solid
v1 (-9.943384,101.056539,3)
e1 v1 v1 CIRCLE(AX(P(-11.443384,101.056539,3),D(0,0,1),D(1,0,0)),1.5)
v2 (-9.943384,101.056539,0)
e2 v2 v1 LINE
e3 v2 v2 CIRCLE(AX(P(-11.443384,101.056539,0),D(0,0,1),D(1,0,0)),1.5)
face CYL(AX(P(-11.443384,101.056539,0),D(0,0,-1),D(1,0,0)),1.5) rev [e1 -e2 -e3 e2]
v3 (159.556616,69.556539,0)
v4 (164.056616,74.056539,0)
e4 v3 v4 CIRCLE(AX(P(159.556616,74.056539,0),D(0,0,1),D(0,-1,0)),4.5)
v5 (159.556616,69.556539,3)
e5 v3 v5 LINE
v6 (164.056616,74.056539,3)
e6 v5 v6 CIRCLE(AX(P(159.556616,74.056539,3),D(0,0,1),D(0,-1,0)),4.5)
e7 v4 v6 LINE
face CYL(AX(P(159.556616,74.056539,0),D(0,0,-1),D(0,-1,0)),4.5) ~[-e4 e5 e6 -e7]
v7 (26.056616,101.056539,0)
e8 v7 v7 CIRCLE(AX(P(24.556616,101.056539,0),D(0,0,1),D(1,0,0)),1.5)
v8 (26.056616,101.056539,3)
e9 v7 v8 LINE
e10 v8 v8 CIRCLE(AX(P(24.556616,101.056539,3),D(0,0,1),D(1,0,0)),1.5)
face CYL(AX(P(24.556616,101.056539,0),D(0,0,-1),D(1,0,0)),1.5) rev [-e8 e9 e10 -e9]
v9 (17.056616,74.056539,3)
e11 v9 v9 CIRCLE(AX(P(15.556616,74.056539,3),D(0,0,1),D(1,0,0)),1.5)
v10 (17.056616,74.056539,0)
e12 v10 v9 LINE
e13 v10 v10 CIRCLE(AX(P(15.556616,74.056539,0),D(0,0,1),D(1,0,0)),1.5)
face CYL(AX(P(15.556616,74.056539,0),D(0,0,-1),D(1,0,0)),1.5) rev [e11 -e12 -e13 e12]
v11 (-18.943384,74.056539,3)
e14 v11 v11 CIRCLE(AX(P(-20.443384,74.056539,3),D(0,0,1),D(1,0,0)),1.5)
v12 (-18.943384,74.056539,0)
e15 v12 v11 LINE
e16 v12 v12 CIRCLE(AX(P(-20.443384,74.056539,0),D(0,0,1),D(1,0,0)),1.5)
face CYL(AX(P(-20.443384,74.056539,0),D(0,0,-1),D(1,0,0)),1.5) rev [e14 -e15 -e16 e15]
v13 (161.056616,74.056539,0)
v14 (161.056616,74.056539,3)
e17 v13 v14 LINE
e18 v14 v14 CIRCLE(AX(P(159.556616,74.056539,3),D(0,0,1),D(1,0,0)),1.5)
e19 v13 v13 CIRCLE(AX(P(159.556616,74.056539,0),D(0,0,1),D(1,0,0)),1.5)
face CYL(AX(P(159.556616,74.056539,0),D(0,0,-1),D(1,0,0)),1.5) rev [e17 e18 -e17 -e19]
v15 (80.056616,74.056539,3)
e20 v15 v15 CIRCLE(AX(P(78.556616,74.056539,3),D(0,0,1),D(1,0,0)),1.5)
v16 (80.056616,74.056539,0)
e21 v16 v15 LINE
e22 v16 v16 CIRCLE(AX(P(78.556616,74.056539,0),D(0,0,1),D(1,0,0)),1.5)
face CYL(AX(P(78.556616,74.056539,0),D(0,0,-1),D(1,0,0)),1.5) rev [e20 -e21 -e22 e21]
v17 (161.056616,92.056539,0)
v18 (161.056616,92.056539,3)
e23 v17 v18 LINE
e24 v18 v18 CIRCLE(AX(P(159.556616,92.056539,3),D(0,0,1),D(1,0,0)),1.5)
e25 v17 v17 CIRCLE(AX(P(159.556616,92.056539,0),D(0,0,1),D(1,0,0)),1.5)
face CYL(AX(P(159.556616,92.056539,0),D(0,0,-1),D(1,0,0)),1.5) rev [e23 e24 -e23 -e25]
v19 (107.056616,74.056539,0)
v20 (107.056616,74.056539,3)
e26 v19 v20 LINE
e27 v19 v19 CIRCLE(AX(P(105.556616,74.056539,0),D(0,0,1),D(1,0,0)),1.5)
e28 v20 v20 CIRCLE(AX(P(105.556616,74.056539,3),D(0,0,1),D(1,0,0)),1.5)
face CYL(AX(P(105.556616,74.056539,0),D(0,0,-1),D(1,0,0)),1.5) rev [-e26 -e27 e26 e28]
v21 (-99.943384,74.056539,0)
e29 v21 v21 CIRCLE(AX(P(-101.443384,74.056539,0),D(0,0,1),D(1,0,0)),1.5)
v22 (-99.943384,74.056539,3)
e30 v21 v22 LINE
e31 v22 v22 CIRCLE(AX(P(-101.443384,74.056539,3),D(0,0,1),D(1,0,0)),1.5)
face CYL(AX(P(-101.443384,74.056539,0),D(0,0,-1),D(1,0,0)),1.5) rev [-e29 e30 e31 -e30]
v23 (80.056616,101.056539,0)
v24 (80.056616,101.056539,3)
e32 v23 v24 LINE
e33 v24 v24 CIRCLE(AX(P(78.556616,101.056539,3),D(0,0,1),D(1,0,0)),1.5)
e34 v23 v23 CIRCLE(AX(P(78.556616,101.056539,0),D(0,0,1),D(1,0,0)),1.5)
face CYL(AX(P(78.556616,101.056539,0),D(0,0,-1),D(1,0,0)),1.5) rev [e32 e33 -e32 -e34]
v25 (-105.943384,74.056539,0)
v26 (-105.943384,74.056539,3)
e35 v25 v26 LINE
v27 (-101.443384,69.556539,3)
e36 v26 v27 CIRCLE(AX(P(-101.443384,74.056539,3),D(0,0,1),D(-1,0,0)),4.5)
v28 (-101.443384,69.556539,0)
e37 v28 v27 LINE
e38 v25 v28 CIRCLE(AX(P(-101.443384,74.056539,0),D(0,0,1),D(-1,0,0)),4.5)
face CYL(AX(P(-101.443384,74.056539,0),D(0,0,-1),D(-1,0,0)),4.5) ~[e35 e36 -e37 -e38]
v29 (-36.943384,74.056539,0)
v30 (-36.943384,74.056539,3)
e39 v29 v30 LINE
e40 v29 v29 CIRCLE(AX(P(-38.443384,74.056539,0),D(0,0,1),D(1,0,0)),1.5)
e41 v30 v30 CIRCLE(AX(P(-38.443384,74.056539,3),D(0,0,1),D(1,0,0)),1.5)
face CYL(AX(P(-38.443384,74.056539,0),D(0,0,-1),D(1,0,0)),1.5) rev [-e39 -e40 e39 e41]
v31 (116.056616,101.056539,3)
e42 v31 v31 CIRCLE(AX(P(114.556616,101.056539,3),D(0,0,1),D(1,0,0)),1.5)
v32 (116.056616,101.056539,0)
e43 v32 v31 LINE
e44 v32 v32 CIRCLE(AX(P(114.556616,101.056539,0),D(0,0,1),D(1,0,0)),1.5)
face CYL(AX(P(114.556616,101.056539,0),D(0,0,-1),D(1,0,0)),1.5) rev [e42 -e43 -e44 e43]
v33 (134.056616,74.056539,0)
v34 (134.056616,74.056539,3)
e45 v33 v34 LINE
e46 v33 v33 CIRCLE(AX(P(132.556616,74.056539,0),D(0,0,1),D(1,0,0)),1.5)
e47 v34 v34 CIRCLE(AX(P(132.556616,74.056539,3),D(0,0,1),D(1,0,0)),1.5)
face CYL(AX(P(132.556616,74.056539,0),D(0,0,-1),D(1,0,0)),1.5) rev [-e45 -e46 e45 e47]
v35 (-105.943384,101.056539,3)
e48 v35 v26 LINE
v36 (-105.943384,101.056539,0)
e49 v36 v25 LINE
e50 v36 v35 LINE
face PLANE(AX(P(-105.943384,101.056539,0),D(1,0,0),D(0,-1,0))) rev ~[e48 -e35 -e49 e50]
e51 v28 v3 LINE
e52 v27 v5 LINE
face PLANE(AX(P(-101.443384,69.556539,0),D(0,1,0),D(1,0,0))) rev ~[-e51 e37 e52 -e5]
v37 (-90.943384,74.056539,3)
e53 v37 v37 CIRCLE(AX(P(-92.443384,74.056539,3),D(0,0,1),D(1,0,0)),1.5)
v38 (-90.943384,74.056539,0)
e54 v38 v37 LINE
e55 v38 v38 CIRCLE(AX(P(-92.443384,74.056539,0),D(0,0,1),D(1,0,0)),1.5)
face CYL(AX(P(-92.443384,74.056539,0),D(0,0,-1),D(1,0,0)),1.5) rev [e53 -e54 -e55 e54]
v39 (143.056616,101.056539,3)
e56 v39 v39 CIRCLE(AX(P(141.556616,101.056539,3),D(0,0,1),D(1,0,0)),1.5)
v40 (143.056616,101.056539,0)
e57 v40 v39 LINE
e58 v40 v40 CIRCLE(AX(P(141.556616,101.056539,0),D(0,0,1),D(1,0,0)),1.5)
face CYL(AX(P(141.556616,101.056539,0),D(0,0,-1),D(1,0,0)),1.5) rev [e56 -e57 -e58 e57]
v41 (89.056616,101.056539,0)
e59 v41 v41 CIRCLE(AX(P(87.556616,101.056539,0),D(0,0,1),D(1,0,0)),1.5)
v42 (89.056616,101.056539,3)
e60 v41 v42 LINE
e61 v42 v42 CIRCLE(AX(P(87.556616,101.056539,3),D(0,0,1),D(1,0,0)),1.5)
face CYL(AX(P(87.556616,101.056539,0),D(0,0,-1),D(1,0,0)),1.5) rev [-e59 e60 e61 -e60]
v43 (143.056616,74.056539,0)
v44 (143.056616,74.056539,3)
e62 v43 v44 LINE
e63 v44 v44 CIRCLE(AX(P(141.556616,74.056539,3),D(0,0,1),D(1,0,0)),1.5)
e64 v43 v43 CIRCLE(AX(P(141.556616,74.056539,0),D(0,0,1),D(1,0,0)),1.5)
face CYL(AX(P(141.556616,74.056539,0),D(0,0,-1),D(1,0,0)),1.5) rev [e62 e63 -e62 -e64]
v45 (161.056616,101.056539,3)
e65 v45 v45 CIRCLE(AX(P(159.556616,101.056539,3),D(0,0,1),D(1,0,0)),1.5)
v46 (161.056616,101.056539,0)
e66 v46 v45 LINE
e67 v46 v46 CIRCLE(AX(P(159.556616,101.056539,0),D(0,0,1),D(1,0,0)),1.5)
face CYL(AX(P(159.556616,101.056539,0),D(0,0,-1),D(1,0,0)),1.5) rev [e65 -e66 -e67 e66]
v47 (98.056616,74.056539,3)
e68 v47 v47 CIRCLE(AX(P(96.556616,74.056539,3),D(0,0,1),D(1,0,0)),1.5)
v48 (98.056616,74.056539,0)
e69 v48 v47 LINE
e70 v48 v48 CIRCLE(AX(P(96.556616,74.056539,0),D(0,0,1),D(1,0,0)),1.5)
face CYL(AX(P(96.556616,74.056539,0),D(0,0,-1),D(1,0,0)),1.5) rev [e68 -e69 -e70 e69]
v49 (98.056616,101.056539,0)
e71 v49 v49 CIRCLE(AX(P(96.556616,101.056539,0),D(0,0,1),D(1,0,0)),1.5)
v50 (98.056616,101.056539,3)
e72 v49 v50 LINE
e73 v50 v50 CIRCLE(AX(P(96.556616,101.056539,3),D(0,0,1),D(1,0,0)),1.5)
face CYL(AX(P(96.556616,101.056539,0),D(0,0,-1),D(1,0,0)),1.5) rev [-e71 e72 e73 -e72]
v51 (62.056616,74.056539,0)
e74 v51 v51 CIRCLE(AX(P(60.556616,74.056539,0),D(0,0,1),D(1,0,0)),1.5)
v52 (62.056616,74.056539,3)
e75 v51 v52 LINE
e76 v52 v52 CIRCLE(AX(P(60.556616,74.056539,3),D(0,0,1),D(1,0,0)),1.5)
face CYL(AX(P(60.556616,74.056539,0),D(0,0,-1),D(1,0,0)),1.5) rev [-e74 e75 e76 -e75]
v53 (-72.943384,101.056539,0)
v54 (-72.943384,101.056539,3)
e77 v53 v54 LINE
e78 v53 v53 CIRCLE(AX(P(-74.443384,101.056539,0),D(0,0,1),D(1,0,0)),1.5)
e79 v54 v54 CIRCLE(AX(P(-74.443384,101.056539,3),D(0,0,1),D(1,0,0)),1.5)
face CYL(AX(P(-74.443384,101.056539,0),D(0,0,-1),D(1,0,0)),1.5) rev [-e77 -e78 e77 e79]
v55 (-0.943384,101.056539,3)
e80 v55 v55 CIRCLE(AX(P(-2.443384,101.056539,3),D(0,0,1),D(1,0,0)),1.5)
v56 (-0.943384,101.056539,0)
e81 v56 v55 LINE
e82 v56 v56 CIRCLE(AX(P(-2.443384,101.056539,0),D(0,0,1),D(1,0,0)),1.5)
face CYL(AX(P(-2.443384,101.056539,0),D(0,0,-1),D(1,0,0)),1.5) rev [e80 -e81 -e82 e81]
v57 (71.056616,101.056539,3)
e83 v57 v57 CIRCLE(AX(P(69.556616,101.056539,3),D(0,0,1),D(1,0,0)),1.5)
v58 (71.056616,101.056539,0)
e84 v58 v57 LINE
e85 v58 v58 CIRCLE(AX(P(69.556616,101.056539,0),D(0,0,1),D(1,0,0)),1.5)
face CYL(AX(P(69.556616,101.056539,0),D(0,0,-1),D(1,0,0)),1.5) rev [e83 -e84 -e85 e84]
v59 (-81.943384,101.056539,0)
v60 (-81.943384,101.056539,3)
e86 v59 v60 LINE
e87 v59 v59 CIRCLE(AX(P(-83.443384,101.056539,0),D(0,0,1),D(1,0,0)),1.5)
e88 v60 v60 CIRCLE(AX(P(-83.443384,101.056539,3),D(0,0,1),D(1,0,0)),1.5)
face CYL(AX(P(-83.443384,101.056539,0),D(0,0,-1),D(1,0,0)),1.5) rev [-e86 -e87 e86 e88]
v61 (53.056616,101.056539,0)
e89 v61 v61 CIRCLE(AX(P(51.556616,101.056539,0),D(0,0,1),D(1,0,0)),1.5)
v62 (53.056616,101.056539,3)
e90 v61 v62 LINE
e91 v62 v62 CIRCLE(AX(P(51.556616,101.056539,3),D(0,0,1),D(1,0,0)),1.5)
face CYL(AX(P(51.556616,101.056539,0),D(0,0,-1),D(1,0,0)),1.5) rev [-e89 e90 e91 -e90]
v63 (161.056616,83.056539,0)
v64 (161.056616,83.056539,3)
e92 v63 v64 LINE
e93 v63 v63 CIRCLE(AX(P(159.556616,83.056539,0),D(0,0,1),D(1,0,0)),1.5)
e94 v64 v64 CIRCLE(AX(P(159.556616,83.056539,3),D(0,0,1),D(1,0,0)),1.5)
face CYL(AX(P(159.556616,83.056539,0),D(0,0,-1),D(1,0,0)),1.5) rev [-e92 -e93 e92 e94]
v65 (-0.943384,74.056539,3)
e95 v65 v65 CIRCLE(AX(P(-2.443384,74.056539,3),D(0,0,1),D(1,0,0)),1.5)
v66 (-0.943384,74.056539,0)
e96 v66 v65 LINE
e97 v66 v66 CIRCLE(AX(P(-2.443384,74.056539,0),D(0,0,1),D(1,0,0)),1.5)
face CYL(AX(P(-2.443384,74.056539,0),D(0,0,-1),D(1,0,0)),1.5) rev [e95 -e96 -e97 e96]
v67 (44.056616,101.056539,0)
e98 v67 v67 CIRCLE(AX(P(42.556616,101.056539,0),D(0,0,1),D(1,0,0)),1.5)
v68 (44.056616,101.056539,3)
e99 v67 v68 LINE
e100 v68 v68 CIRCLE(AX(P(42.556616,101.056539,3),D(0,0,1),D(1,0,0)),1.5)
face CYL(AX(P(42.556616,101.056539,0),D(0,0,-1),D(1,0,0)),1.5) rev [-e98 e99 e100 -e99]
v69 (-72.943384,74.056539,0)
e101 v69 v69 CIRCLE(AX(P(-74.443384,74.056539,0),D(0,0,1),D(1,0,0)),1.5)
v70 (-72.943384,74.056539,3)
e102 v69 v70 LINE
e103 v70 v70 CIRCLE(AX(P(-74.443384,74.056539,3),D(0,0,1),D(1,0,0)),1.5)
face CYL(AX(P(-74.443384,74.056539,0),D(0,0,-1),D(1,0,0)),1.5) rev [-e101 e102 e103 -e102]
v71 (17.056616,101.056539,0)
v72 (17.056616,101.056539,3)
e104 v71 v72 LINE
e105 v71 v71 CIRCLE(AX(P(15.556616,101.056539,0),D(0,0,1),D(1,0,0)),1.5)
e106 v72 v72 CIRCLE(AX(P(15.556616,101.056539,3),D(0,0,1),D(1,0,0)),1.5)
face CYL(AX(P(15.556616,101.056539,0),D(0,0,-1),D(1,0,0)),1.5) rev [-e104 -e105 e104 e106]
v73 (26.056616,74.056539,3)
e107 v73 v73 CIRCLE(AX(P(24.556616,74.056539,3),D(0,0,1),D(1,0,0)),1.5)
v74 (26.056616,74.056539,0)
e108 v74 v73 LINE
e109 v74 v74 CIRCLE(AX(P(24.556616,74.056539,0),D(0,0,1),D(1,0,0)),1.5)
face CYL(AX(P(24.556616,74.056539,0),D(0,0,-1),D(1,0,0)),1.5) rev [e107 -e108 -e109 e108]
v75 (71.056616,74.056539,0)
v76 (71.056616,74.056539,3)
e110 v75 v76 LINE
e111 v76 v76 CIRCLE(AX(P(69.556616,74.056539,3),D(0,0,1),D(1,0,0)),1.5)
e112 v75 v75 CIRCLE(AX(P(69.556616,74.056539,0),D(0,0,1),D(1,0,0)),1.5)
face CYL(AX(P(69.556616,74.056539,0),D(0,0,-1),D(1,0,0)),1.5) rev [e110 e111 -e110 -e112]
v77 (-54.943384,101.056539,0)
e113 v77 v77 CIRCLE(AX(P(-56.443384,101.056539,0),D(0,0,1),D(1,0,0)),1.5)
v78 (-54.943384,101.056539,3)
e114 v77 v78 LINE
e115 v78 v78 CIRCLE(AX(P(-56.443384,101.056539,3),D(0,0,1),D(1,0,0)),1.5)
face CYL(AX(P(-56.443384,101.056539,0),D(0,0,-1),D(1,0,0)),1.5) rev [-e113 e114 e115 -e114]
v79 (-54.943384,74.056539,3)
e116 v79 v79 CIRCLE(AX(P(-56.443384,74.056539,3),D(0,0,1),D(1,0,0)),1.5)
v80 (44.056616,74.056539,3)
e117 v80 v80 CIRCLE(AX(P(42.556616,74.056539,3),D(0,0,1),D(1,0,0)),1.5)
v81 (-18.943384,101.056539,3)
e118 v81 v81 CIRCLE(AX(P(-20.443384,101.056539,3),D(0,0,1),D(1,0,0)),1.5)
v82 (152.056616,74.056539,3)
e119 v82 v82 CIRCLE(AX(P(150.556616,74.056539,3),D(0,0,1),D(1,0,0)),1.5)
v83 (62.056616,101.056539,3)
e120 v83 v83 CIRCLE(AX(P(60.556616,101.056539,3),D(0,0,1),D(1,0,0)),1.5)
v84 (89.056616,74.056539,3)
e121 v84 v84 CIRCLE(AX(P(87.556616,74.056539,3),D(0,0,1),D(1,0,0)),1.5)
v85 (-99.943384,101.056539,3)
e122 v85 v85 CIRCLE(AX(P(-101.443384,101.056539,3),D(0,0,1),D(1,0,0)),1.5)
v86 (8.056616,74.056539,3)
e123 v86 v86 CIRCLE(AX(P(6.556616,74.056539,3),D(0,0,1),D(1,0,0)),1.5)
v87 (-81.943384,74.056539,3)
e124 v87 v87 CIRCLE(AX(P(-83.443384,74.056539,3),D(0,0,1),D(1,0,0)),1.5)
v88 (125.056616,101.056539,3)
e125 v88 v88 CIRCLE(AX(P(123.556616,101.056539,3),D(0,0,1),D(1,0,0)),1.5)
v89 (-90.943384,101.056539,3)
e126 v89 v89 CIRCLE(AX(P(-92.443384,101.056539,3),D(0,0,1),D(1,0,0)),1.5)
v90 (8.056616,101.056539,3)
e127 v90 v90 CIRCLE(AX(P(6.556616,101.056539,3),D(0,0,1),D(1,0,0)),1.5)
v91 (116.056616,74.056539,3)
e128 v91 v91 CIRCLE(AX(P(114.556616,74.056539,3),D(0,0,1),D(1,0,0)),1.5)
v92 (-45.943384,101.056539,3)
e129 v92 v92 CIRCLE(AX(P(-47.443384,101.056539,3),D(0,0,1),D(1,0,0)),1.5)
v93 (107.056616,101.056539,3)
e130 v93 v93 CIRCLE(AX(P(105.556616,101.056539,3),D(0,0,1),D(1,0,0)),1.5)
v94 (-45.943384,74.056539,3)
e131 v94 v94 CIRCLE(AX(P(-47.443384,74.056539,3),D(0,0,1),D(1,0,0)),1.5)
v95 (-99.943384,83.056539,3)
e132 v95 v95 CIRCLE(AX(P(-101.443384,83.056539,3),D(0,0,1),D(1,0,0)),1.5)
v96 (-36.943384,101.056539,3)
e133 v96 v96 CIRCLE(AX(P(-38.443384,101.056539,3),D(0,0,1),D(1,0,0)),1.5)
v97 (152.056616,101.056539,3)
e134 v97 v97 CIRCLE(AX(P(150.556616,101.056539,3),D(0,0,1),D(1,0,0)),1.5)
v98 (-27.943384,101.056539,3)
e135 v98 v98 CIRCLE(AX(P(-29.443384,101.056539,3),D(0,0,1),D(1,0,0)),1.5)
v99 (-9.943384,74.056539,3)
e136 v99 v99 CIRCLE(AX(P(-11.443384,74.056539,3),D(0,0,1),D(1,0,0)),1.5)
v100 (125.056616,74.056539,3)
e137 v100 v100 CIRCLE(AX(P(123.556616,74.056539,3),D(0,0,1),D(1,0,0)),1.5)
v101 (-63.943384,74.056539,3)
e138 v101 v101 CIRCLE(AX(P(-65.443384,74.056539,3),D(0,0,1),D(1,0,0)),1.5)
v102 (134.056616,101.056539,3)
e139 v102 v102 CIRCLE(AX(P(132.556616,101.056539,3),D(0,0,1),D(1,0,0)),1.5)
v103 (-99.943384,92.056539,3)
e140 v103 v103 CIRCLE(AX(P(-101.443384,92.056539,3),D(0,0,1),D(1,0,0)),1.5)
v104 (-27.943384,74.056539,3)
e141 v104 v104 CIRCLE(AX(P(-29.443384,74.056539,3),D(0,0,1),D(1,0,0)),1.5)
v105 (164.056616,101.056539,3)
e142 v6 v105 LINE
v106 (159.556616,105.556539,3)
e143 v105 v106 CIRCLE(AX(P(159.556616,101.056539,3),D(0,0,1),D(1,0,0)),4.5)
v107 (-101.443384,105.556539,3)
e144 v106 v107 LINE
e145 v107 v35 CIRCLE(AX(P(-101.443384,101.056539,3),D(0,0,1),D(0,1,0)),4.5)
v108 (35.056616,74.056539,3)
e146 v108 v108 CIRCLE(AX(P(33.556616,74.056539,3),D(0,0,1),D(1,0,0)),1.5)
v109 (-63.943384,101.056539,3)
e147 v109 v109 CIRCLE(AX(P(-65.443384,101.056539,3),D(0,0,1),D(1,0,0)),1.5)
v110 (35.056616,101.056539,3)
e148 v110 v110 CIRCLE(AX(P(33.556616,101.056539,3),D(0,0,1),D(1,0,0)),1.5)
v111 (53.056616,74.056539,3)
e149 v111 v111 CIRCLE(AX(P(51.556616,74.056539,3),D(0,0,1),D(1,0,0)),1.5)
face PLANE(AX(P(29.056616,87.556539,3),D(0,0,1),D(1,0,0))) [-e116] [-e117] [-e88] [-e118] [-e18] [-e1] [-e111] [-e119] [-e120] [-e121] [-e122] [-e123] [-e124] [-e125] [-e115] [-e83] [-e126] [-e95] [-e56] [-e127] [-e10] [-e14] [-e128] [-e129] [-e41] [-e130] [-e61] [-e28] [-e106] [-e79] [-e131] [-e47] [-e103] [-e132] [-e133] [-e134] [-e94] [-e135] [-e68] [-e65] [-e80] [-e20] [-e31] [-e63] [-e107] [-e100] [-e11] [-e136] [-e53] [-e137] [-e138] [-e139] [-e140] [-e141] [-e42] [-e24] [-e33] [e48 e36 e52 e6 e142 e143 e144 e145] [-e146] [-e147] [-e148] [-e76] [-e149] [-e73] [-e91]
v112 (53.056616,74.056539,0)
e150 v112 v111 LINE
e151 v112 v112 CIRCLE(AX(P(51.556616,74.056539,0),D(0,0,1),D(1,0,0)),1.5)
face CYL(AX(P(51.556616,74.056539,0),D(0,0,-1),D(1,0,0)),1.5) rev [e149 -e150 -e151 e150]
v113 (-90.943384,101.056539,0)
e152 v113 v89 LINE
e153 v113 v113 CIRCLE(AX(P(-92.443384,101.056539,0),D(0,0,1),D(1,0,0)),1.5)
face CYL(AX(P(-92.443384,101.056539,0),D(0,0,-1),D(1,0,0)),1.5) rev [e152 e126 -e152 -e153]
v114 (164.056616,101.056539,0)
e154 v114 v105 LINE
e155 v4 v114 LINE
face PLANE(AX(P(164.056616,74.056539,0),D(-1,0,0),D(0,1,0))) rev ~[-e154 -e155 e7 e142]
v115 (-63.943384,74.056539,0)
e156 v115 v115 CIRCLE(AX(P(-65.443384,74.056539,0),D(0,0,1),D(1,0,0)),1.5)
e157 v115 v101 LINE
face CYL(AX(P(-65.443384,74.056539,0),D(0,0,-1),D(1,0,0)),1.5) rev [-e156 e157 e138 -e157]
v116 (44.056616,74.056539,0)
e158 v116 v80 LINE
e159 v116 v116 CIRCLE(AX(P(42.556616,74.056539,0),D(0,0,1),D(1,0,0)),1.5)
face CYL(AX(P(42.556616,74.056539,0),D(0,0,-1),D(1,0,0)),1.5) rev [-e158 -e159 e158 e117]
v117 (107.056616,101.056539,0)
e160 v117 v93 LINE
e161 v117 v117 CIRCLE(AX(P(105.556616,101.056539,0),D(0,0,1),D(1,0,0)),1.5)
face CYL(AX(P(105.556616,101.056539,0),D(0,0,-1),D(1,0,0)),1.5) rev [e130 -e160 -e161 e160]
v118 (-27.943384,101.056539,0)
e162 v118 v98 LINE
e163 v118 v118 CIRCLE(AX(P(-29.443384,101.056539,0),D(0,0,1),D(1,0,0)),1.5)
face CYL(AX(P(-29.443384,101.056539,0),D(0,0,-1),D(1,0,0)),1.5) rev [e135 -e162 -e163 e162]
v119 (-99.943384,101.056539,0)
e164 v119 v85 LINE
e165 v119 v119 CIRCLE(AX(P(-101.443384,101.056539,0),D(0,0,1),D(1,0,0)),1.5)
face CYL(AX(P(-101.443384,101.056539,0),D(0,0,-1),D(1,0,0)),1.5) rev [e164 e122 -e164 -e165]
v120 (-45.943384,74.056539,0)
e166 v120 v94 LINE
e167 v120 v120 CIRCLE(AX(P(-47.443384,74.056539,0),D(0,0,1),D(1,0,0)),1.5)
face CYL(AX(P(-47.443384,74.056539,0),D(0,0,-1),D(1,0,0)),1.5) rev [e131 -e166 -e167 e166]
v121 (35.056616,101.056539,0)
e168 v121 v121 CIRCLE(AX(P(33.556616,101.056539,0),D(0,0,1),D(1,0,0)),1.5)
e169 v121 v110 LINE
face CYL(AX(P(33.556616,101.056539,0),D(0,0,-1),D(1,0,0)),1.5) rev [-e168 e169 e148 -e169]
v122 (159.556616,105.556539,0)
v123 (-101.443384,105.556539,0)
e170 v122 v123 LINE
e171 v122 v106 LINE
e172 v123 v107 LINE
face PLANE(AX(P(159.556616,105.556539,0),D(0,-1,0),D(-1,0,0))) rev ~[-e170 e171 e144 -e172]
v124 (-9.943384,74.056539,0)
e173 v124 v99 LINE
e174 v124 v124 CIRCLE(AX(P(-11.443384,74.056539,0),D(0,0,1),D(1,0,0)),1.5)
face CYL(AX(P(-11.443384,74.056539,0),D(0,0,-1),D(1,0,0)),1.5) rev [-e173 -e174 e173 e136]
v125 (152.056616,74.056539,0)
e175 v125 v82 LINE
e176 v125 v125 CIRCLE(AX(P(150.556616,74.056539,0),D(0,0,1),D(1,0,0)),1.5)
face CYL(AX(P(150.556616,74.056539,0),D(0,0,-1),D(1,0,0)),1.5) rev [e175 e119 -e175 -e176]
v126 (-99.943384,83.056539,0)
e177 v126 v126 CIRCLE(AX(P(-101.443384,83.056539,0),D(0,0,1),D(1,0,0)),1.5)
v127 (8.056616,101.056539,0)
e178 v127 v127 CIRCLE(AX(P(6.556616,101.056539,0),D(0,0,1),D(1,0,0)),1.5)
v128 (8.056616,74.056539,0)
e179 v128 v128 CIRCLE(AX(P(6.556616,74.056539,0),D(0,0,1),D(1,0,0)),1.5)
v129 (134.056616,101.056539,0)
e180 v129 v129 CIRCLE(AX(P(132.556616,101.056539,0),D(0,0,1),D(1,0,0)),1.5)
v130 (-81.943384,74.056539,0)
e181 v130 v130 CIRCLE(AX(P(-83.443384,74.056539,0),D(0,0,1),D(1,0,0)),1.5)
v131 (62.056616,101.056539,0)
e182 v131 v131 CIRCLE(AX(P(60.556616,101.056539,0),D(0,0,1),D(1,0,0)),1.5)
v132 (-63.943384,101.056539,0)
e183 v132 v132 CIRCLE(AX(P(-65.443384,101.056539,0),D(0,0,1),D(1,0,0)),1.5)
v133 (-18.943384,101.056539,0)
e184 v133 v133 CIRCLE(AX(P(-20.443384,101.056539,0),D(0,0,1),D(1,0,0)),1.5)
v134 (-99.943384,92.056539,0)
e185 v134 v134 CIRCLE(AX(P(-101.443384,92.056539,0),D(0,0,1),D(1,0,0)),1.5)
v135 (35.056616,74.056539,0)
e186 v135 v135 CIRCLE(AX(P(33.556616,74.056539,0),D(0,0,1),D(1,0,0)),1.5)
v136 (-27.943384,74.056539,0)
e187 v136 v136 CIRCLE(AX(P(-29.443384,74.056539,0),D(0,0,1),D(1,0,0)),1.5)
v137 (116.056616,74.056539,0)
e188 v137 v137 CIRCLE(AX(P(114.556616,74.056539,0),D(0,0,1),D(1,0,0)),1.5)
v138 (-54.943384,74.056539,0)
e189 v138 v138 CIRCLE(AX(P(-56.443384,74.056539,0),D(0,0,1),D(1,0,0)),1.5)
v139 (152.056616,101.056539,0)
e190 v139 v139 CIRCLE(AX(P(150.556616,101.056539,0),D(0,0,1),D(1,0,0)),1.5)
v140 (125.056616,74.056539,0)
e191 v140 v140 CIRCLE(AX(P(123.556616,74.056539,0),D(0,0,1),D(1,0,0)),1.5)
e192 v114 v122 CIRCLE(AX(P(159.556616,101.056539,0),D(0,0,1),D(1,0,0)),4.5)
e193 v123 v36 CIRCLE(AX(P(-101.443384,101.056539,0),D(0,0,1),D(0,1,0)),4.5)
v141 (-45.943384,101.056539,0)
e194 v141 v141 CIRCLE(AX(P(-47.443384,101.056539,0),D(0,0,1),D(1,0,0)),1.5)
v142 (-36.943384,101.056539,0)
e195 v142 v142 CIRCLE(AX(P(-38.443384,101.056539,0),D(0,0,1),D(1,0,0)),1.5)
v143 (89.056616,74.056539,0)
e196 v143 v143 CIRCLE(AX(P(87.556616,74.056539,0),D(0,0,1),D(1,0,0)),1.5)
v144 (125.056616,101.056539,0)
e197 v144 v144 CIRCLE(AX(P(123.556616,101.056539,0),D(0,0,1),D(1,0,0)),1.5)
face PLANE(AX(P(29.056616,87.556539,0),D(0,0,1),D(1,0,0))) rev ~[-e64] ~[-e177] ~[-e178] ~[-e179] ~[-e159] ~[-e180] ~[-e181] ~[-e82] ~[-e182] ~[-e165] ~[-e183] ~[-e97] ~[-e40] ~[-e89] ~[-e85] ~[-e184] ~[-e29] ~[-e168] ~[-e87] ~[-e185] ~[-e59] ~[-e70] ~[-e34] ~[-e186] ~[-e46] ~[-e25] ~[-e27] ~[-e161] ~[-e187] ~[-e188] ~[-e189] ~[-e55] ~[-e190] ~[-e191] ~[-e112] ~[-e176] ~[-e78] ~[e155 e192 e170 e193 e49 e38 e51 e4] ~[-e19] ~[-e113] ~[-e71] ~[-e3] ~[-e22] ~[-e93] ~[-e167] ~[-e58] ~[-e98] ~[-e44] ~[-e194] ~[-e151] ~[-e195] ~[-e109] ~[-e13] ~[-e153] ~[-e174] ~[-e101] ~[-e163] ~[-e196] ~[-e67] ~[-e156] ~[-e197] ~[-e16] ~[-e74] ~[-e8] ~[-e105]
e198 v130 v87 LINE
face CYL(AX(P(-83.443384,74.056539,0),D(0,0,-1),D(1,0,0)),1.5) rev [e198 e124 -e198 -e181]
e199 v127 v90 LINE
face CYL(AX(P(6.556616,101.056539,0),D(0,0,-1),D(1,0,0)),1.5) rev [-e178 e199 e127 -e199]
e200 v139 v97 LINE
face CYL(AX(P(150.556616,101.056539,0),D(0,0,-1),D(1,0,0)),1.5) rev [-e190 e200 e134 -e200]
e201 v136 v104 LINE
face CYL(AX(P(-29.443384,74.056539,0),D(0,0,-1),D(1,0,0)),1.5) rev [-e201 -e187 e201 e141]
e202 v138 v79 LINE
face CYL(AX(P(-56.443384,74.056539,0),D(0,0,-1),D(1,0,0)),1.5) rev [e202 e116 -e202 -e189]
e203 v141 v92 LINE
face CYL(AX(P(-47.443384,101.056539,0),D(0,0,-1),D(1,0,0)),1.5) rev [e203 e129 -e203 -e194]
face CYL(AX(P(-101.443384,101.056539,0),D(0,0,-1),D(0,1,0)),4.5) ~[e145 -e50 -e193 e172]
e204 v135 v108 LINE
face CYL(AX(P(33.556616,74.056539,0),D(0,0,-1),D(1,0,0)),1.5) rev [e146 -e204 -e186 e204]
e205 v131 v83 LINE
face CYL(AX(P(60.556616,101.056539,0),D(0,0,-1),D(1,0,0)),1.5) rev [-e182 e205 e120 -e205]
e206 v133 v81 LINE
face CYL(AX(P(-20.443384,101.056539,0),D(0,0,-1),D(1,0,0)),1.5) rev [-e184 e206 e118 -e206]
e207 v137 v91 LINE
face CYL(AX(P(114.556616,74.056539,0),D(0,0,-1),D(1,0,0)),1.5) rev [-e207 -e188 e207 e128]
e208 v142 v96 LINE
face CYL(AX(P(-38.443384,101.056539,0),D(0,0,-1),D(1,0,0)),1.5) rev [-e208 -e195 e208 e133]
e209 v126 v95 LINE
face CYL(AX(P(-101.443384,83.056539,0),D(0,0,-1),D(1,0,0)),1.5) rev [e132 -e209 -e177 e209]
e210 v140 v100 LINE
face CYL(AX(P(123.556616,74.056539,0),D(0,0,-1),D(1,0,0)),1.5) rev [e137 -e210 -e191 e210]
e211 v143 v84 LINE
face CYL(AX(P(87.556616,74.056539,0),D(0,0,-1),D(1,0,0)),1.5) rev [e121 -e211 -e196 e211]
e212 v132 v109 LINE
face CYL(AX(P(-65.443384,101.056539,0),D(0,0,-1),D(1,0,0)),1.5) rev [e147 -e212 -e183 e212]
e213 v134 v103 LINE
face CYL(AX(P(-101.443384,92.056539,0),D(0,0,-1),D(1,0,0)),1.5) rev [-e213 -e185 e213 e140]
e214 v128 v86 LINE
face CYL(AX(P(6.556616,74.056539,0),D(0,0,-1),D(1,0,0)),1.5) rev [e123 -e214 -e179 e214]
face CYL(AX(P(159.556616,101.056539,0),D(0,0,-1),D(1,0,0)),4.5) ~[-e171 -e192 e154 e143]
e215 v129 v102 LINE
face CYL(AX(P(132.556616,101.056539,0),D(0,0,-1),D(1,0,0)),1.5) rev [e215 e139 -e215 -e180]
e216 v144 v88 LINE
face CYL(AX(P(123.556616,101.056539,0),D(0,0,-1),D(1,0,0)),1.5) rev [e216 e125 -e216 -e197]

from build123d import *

# Parameters (mm, degrees)
MODEL_R                 = 1.5
SALIENTE_EXTRUIR1_DEPTH = 3


with BuildPart() as part:
    # Model → Saliente-Extruir1 (new body)
    with BuildSketch(Plane.XY):
        with BuildLine():
            Line((-105.943383637, 101.056539338), (-105.943383637, 74.056539338))
            ThreePointArc((-105.943383637, 74.056539338), (-104.625364152, 70.874558823), (-101.443383637, 69.556539338))
            Line((-101.443383637, 69.556539338), (159.556616363, 69.556539338))
            ThreePointArc((159.556616363, 69.556539338), (162.738596878, 70.874558823), (164.056616363, 74.056539338))
            Line((164.056616363, 74.056539338), (164.056616363, 101.056539338))
            ThreePointArc((164.056616363, 101.056539338), (162.738596878, 104.238519853), (159.556616363, 105.556539338))
            Line((159.556616363, 105.556539338), (-101.443383637, 105.556539338))
            ThreePointArc((-101.443383637, 105.556539338), (-104.625364152, 104.238519853), (-105.943383637, 101.056539338))
        make_face()
        with Locations((-101.443383637, 101.056539338)):
            Circle(MODEL_R, mode=Mode.SUBTRACT)
        with Locations((-92.443383637, 101.056539338)):
            Circle(MODEL_R, mode=Mode.SUBTRACT)
        with Locations((-83.443383637, 101.056539338)):
            Circle(MODEL_R, mode=Mode.SUBTRACT)
        with Locations((-74.443383637, 101.056539338)):
            Circle(MODEL_R, mode=Mode.SUBTRACT)
        with Locations((-65.443383637, 101.056539338)):
            Circle(MODEL_R, mode=Mode.SUBTRACT)
        with Locations((-56.443383637, 101.056539338)):
            Circle(MODEL_R, mode=Mode.SUBTRACT)
        with Locations((-47.443383637, 101.056539338)):
            Circle(MODEL_R, mode=Mode.SUBTRACT)
        with Locations((-38.443383637, 101.056539338)):
            Circle(MODEL_R, mode=Mode.SUBTRACT)
        with Locations((-101.443383637, 92.056539338)):
            Circle(MODEL_R, mode=Mode.SUBTRACT)
        with Locations((-101.443383637, 83.056539338)):
            Circle(MODEL_R, mode=Mode.SUBTRACT)
        with Locations((-101.443383637, 74.056539338)):
            Circle(MODEL_R, mode=Mode.SUBTRACT)
        with Locations((-92.443383637, 74.056539338)):
            Circle(MODEL_R, mode=Mode.SUBTRACT)
        with Locations((-83.443383637, 74.056539338)):
            Circle(MODEL_R, mode=Mode.SUBTRACT)
        with Locations((-74.443383637, 74.056539338)):
            Circle(MODEL_R, mode=Mode.SUBTRACT)
        with Locations((-65.443383637, 74.056539338)):
            Circle(MODEL_R, mode=Mode.SUBTRACT)
        with Locations((-56.443383637, 74.056539338)):
            Circle(MODEL_R, mode=Mode.SUBTRACT)
        with Locations((-47.443383637, 74.056539338)):
            Circle(MODEL_R, mode=Mode.SUBTRACT)
        with Locations((-38.443383637, 74.056539338)):
            Circle(MODEL_R, mode=Mode.SUBTRACT)
        with Locations((-29.443383637, 101.056539338)):
            Circle(MODEL_R, mode=Mode.SUBTRACT)
        with Locations((-29.443383637, 74.056539338)):
            Circle(MODEL_R, mode=Mode.SUBTRACT)
        with Locations((-20.443383637, 101.056539338)):
            Circle(MODEL_R, mode=Mode.SUBTRACT)
        with Locations((-20.443383637, 74.056539338)):
            Circle(MODEL_R, mode=Mode.SUBTRACT)
        with Locations((-11.443383637, 101.056539338)):
            Circle(MODEL_R, mode=Mode.SUBTRACT)
        with Locations((-2.443383637, 101.056539338)):
            Circle(MODEL_R, mode=Mode.SUBTRACT)
        with Locations((6.556616363, 101.056539338)):
            Circle(MODEL_R, mode=Mode.SUBTRACT)
        with Locations((15.556616363, 101.056539338)):
            Circle(MODEL_R, mode=Mode.SUBTRACT)
        with Locations((24.556616363, 101.056539338)):
            Circle(MODEL_R, mode=Mode.SUBTRACT)
        with Locations((33.556616363, 101.056539338)):
            Circle(MODEL_R, mode=Mode.SUBTRACT)
        with Locations((42.556616363, 101.056539338)):
            Circle(MODEL_R, mode=Mode.SUBTRACT)
        with Locations((51.556616363, 101.056539338)):
            Circle(MODEL_R, mode=Mode.SUBTRACT)
        with Locations((-11.443383637, 74.056539338)):
            Circle(MODEL_R, mode=Mode.SUBTRACT)
        with Locations((-2.443383637, 74.056539338)):
            Circle(MODEL_R, mode=Mode.SUBTRACT)
        with Locations((6.556616363, 74.056539338)):
            Circle(MODEL_R, mode=Mode.SUBTRACT)
        with Locations((15.556616363, 74.056539338)):
            Circle(MODEL_R, mode=Mode.SUBTRACT)
        with Locations((24.556616363, 74.056539338)):
            Circle(MODEL_R, mode=Mode.SUBTRACT)
        with Locations((33.556616363, 74.056539338)):
            Circle(MODEL_R, mode=Mode.SUBTRACT)
        with Locations((42.556616363, 74.056539338)):
            Circle(MODEL_R, mode=Mode.SUBTRACT)
        with Locations((51.556616363, 74.056539338)):
            Circle(MODEL_R, mode=Mode.SUBTRACT)
        with Locations((60.556616363, 101.056539338)):
            Circle(MODEL_R, mode=Mode.SUBTRACT)
        with Locations((60.556616363, 74.056539338)):
            Circle(MODEL_R, mode=Mode.SUBTRACT)
        with Locations((69.556616363, 101.056539338)):
            Circle(MODEL_R, mode=Mode.SUBTRACT)
        with Locations((69.556616363, 74.056539338)):
            Circle(MODEL_R, mode=Mode.SUBTRACT)
        with Locations((78.556616363, 101.056539338)):
            Circle(MODEL_R, mode=Mode.SUBTRACT)
        with Locations((87.556616363, 101.056539338)):
            Circle(MODEL_R, mode=Mode.SUBTRACT)
        with Locations((96.556616363, 101.056539338)):
            Circle(MODEL_R, mode=Mode.SUBTRACT)
        with Locations((105.556616363, 101.056539338)):
            Circle(MODEL_R, mode=Mode.SUBTRACT)
        with Locations((114.556616363, 101.056539338)):
            Circle(MODEL_R, mode=Mode.SUBTRACT)
        with Locations((123.556616363, 101.056539338)):
            Circle(MODEL_R, mode=Mode.SUBTRACT)
        with Locations((132.556616363, 101.056539338)):
            Circle(MODEL_R, mode=Mode.SUBTRACT)
        with Locations((141.556616363, 101.056539338)):
            Circle(MODEL_R, mode=Mode.SUBTRACT)
        with Locations((78.556616363, 74.056539338)):
            Circle(MODEL_R, mode=Mode.SUBTRACT)
        with Locations((87.556616363, 74.056539338)):
            Circle(MODEL_R, mode=Mode.SUBTRACT)
        with Locations((96.556616363, 74.056539338)):
            Circle(MODEL_R, mode=Mode.SUBTRACT)
        with Locations((105.556616363, 74.056539338)):
            Circle(MODEL_R, mode=Mode.SUBTRACT)
        with Locations((114.556616363, 74.056539338)):
            Circle(MODEL_R, mode=Mode.SUBTRACT)
        with Locations((123.556616363, 74.056539338)):
            Circle(MODEL_R, mode=Mode.SUBTRACT)
        with Locations((132.556616363, 74.056539338)):
            Circle(MODEL_R, mode=Mode.SUBTRACT)
        with Locations((141.556616363, 74.056539338)):
            Circle(MODEL_R, mode=Mode.SUBTRACT)
        with Locations((150.556616363, 101.056539338)):
            Circle(MODEL_R, mode=Mode.SUBTRACT)
        with Locations((150.556616363, 74.056539338)):
            Circle(MODEL_R, mode=Mode.SUBTRACT)
        with Locations((159.556616363, 101.056539338)):
            Circle(MODEL_R, mode=Mode.SUBTRACT)
        with Locations((159.556616363, 92.056539338)):
            Circle(MODEL_R, mode=Mode.SUBTRACT)
        with Locations((159.556616363, 83.056539338)):
            Circle(MODEL_R, mode=Mode.SUBTRACT)
        with Locations((159.556616363, 74.056539338)):
            Circle(MODEL_R, mode=Mode.SUBTRACT)
    extrude(amount=SALIENTE_EXTRUIR1_DEPTH)


solid = part.part
